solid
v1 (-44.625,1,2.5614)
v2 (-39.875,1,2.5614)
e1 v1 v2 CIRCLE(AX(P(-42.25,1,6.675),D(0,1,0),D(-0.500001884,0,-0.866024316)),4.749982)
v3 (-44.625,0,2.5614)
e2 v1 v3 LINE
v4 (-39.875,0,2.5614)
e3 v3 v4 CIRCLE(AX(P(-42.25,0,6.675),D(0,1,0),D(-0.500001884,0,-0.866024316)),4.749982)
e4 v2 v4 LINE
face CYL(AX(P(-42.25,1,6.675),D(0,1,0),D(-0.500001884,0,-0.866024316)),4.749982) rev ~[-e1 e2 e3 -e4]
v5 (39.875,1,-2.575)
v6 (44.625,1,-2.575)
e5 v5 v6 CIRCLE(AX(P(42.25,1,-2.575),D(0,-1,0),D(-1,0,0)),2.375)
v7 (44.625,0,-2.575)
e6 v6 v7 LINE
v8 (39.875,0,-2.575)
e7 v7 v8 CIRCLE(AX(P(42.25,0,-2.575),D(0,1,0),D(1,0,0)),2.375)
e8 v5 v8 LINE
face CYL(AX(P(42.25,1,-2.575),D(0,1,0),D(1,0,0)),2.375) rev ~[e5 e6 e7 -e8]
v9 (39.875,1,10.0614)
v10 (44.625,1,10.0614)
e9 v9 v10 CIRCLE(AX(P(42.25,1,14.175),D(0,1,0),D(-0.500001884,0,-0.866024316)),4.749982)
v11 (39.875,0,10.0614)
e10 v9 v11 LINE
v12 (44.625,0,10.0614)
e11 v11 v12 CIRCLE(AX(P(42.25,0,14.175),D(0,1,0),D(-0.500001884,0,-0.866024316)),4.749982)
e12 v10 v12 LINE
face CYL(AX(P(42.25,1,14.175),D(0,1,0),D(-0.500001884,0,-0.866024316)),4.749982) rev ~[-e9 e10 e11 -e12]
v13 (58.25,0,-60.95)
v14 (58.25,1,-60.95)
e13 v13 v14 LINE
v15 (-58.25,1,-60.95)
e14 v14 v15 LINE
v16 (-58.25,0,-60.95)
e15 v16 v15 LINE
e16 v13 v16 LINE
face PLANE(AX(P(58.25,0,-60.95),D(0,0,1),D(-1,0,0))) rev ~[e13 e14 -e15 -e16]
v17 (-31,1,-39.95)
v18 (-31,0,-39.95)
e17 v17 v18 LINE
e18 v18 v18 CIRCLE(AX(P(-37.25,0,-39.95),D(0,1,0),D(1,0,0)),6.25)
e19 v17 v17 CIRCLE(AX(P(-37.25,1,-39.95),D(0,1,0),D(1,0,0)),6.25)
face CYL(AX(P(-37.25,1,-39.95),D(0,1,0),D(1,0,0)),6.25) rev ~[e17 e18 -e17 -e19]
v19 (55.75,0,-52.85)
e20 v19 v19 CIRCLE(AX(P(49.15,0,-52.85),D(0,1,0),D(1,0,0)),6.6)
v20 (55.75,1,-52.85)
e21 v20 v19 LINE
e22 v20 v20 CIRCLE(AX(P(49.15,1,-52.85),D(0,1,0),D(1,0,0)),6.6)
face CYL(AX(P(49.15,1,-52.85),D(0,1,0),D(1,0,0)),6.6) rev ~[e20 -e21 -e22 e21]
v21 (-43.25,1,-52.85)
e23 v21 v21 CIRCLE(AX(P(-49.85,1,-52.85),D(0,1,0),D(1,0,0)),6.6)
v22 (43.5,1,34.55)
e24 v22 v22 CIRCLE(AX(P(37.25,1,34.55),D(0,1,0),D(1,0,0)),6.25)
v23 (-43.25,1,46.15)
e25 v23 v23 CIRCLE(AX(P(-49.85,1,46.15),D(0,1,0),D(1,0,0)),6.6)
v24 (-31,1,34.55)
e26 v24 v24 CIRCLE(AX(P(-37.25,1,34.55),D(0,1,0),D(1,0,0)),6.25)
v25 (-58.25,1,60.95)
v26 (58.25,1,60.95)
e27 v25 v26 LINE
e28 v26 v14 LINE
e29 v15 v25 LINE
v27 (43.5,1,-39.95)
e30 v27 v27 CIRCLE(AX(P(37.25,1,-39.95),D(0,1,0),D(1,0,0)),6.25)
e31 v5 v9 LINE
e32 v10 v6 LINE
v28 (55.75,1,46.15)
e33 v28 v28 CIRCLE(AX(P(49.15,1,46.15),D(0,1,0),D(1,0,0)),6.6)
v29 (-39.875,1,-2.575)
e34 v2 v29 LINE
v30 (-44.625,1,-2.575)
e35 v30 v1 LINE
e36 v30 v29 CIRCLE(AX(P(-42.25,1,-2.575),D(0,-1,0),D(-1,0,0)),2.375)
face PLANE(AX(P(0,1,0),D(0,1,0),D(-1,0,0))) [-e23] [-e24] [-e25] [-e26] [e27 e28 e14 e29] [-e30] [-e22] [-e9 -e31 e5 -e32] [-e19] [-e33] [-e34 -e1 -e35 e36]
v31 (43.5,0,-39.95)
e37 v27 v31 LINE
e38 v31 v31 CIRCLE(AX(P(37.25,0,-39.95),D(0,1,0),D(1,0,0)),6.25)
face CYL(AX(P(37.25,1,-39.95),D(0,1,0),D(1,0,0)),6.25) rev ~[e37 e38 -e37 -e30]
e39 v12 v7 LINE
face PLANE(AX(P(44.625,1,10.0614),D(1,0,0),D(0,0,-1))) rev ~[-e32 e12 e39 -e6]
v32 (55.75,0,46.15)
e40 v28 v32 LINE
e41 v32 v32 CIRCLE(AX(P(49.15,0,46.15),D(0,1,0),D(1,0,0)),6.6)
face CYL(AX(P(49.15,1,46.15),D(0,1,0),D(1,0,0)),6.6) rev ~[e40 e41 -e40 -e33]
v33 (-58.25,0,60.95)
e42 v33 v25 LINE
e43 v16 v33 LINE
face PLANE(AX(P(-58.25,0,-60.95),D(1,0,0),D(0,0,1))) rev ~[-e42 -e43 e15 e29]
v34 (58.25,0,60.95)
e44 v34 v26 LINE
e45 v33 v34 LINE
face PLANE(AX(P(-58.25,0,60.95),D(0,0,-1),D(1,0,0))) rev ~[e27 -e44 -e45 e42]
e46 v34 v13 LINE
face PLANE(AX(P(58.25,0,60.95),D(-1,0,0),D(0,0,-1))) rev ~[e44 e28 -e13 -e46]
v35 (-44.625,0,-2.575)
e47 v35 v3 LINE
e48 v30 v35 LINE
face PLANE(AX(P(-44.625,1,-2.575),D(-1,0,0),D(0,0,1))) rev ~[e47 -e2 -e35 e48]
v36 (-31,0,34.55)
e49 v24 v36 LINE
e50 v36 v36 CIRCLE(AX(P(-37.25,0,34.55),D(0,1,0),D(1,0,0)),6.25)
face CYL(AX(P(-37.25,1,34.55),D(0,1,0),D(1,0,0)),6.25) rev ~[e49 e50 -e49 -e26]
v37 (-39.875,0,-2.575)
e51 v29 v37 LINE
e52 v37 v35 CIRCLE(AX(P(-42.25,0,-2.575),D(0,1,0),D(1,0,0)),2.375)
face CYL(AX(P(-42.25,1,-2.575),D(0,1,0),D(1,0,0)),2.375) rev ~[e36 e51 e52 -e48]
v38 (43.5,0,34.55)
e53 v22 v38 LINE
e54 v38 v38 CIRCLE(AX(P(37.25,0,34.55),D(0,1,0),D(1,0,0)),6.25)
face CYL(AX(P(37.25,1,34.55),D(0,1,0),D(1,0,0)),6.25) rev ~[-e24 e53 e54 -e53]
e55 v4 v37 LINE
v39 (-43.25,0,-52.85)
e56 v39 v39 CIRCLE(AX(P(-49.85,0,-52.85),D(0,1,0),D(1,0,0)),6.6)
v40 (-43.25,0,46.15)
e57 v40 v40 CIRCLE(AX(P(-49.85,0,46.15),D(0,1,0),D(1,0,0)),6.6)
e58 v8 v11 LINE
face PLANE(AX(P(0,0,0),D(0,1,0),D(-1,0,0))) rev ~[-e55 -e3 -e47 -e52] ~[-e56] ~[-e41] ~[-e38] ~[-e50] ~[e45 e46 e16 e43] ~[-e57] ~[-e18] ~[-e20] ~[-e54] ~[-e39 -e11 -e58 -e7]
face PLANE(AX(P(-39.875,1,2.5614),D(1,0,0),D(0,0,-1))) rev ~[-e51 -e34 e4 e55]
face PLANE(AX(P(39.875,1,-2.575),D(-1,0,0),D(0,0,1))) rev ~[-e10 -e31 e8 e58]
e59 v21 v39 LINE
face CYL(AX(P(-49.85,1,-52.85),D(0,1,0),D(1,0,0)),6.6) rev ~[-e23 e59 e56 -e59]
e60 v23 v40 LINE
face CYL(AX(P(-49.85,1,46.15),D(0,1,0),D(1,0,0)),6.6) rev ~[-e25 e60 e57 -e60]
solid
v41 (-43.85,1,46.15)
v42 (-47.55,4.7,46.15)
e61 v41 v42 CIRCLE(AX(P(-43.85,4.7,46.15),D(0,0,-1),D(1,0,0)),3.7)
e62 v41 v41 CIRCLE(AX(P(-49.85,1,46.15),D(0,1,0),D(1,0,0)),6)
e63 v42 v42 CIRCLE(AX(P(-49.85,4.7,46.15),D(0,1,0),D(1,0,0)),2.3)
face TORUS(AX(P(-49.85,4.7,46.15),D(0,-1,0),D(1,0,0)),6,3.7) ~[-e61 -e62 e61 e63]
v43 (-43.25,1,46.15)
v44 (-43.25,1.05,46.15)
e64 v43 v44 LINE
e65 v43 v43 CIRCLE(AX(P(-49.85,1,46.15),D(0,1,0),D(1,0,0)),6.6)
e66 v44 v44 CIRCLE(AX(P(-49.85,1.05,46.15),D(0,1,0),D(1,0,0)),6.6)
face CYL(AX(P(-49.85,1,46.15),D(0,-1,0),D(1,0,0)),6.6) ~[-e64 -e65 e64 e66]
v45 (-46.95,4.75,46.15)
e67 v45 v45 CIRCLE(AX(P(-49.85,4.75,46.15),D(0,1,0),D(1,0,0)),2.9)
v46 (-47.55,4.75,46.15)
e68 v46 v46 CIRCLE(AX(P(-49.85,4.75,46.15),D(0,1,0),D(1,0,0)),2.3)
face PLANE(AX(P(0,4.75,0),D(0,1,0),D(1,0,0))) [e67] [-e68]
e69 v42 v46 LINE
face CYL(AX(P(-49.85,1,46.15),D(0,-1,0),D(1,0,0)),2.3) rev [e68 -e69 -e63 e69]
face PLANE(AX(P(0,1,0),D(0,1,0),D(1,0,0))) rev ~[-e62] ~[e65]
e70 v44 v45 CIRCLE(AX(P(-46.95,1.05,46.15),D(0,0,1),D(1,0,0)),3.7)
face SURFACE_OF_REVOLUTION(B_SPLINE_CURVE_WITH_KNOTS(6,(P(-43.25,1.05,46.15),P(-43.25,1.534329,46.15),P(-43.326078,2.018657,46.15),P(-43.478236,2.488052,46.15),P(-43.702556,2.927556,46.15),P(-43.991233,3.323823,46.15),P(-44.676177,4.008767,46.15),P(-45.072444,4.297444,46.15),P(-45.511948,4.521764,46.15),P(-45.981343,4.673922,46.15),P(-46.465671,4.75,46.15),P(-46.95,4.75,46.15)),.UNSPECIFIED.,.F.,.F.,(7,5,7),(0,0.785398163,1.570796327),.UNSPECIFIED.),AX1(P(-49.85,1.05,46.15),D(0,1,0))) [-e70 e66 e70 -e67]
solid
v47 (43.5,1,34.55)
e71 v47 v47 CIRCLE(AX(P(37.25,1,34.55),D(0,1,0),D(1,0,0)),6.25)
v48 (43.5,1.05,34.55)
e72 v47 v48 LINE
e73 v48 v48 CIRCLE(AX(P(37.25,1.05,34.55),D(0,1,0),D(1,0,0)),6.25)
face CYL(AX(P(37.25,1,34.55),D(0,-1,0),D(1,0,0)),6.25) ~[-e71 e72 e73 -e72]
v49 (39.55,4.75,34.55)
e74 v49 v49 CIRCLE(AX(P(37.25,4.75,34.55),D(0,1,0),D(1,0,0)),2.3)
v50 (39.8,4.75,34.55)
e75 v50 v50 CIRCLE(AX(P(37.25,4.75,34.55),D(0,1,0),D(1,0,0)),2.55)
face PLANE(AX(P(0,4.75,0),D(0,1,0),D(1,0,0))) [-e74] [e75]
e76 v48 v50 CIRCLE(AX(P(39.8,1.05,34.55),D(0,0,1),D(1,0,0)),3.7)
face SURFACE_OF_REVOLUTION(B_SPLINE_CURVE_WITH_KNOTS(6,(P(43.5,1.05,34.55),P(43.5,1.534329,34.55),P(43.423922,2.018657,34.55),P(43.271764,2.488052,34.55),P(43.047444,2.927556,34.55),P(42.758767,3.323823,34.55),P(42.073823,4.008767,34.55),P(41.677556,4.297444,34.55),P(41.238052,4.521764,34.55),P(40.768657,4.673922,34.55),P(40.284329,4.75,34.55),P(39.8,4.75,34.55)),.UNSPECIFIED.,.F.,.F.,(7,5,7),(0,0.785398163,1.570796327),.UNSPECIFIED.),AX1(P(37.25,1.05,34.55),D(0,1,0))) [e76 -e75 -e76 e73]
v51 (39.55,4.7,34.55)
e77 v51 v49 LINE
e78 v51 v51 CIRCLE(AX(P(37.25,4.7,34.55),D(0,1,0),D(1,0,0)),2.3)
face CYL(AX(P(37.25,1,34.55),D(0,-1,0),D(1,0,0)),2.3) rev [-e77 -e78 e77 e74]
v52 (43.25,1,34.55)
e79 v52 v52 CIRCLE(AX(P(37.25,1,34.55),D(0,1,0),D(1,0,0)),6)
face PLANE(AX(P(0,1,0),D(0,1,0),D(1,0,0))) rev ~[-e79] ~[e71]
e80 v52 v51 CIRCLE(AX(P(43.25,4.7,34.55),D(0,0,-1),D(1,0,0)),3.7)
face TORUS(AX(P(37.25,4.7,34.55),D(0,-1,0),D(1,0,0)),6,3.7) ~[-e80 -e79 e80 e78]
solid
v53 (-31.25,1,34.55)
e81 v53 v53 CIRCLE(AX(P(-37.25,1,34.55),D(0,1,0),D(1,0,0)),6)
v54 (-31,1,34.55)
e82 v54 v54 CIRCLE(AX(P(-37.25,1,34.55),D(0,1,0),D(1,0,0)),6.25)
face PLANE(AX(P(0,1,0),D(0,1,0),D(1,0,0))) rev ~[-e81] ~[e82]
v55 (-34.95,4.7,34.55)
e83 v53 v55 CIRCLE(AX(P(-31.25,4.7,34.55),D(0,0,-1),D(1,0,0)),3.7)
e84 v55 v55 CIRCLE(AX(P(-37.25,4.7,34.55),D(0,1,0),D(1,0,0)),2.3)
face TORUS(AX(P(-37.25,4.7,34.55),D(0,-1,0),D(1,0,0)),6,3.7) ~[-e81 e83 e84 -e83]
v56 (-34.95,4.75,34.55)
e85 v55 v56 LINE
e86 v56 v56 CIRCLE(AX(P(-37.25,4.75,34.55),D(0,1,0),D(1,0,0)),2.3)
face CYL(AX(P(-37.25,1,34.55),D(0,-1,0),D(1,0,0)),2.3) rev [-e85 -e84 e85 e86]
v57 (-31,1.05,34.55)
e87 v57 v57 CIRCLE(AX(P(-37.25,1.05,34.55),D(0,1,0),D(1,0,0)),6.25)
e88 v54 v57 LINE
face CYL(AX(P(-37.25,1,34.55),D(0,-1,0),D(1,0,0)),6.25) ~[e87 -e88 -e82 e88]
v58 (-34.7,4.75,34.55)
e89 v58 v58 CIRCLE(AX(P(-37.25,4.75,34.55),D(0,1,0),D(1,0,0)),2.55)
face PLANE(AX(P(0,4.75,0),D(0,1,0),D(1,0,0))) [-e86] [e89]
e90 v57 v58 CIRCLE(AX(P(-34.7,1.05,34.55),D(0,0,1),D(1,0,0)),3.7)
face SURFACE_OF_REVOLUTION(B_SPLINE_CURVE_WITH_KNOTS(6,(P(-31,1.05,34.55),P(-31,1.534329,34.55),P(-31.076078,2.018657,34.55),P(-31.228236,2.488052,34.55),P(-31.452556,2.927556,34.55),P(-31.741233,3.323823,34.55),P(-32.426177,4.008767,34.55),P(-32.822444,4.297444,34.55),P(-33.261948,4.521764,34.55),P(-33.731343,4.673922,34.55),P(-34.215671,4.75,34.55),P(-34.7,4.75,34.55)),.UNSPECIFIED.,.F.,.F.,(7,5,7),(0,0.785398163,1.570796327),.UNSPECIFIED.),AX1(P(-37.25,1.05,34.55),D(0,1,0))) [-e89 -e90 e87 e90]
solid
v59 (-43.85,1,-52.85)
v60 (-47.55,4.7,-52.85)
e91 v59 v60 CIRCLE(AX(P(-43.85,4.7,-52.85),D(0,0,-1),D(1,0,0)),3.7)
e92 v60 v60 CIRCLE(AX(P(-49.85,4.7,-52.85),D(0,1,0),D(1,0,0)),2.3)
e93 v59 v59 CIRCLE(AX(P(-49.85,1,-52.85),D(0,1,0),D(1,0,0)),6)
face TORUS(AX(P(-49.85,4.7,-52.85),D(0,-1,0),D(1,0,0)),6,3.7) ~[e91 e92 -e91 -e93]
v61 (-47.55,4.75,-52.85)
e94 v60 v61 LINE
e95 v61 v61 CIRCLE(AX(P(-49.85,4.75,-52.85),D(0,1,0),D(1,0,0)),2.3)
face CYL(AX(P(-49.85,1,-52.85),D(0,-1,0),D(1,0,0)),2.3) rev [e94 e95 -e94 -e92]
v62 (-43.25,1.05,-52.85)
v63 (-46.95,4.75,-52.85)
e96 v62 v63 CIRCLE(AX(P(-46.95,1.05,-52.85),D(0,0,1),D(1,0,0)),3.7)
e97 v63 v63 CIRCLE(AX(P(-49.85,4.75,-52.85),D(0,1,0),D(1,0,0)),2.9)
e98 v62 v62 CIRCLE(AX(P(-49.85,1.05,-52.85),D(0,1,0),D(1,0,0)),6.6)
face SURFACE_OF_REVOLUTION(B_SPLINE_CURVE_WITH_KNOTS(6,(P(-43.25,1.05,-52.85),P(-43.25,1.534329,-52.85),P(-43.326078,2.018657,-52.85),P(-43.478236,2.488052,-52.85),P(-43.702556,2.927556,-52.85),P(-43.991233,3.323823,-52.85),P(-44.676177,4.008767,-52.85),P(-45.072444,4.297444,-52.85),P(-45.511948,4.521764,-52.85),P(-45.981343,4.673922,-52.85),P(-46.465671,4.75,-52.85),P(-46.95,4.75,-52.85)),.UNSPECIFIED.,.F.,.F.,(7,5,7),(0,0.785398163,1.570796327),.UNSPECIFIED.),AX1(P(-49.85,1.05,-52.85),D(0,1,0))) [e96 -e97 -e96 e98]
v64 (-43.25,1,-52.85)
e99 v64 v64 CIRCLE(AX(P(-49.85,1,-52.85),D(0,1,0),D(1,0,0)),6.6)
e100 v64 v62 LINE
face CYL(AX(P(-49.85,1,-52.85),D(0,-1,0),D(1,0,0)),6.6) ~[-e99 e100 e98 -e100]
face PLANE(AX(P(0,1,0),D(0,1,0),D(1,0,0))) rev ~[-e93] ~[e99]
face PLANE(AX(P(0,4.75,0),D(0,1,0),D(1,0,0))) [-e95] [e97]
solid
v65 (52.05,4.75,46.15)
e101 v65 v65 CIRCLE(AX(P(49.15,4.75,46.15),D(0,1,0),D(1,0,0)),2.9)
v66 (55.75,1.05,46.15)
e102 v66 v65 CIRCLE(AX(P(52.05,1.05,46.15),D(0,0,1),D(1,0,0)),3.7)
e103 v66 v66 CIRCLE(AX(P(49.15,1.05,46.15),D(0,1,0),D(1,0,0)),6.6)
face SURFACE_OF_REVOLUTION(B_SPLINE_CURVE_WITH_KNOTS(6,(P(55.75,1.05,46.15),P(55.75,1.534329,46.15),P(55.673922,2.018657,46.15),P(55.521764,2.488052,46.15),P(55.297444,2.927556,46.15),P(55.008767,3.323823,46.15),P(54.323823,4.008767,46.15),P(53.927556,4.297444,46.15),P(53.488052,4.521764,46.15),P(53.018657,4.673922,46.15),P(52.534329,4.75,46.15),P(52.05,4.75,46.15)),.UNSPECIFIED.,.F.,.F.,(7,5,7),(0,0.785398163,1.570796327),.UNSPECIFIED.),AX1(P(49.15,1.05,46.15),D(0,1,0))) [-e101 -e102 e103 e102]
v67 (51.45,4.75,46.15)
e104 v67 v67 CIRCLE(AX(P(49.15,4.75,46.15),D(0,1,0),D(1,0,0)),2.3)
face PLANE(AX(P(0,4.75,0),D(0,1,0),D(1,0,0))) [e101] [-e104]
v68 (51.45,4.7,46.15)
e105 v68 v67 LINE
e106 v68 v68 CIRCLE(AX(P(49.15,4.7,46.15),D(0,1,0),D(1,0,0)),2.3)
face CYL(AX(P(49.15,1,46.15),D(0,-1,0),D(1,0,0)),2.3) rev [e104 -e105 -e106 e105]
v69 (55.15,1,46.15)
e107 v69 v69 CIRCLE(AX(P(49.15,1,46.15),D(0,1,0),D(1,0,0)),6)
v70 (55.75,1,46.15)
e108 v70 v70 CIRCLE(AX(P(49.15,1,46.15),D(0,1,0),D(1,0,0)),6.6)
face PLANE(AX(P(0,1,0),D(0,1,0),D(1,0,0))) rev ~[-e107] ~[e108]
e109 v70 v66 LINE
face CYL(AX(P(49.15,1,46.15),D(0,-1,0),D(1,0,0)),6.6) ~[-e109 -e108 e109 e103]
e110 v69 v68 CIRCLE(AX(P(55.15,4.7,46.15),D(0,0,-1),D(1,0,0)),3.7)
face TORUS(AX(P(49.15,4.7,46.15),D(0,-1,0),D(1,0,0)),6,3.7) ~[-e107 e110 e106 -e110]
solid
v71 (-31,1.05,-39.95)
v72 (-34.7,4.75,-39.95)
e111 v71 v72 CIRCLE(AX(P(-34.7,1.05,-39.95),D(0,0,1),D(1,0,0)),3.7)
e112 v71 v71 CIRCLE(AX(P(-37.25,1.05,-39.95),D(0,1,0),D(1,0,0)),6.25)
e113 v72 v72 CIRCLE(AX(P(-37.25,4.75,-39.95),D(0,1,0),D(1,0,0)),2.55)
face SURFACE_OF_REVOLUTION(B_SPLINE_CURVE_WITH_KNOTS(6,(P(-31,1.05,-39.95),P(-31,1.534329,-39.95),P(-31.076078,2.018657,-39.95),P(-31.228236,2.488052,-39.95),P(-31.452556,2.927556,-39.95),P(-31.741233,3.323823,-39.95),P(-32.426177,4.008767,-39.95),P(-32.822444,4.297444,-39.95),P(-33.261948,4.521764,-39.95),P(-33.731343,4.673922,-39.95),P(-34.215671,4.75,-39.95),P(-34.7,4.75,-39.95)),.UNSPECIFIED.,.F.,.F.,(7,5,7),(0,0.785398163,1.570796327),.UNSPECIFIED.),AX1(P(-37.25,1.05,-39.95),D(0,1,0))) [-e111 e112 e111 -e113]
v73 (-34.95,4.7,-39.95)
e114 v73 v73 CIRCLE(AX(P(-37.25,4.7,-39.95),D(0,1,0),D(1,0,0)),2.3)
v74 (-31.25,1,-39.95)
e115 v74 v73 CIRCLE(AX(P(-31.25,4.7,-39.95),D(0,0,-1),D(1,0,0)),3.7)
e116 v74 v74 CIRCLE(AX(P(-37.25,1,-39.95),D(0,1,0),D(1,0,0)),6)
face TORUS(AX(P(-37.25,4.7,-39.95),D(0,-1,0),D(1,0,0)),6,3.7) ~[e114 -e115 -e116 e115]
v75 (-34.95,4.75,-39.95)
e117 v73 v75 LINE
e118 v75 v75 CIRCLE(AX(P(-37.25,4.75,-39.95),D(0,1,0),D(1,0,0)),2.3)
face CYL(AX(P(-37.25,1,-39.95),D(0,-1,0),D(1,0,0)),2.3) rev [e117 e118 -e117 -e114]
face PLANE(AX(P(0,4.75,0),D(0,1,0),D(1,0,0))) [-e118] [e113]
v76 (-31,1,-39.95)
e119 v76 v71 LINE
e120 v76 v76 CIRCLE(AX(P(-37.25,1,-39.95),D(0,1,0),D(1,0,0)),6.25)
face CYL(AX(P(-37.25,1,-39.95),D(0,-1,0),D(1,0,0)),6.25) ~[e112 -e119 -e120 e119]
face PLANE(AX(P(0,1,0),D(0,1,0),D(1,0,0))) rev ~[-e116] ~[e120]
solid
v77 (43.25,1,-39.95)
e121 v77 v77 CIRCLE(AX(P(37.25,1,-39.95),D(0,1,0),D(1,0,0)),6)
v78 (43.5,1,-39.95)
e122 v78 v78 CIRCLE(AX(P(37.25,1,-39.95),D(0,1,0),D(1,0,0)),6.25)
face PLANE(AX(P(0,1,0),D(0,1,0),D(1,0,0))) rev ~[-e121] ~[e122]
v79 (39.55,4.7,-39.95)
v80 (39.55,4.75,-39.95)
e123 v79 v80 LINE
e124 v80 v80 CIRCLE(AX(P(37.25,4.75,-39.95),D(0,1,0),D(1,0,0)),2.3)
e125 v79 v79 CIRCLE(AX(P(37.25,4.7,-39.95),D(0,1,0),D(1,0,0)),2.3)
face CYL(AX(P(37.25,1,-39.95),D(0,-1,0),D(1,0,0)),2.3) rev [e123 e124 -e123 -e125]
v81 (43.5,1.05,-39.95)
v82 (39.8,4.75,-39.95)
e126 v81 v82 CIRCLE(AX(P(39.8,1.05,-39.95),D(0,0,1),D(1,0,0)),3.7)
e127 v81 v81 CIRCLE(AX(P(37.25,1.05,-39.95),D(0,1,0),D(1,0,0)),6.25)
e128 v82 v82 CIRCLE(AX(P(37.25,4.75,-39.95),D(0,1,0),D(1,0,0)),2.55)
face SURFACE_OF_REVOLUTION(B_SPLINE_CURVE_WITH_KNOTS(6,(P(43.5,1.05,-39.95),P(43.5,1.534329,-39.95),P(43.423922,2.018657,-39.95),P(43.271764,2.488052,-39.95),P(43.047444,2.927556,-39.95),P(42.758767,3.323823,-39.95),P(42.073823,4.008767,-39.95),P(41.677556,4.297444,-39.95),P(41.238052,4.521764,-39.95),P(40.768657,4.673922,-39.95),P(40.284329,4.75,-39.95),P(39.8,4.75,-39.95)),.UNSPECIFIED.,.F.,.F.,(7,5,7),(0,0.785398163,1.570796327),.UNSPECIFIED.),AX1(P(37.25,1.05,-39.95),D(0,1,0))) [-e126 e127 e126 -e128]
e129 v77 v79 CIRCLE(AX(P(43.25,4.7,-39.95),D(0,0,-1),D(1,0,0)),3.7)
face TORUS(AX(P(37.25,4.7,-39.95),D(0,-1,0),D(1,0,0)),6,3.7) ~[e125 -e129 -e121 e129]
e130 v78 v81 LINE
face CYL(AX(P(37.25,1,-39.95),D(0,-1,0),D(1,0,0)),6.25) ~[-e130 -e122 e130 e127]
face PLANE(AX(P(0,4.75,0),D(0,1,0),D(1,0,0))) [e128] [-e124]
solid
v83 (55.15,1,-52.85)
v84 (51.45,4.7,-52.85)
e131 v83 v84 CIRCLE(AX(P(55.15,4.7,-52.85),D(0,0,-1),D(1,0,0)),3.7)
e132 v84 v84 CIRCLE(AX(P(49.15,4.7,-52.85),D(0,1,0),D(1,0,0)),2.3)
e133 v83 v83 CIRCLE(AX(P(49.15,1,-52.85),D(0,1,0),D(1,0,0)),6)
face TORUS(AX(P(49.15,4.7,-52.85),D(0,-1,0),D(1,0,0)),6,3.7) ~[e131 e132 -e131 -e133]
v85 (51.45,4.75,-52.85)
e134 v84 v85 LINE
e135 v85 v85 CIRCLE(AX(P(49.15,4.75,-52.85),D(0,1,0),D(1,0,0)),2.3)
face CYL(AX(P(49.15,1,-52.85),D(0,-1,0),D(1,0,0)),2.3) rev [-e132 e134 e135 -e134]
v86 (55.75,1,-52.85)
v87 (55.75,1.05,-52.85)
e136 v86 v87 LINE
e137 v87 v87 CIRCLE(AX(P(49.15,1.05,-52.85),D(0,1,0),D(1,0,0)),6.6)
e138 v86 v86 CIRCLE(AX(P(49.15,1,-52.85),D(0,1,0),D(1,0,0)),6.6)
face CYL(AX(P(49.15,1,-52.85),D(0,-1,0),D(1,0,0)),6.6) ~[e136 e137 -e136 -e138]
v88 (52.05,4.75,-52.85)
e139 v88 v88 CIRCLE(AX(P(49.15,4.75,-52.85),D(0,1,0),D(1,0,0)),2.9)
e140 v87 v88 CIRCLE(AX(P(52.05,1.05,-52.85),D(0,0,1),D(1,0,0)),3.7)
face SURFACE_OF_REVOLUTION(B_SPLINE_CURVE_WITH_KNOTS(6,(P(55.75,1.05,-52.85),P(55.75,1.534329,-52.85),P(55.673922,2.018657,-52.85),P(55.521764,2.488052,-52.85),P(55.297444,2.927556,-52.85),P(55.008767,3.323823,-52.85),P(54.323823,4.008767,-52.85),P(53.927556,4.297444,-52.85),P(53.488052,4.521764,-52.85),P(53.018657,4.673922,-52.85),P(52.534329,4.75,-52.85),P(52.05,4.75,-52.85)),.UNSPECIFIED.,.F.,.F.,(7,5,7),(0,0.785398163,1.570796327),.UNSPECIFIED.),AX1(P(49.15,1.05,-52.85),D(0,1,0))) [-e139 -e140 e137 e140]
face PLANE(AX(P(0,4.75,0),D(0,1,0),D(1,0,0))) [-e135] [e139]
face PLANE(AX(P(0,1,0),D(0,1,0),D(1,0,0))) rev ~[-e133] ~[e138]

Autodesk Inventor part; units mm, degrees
ref_plane "YZ Plane" through (0, 0, 0) normal (1, 0, 0) x (0, 1, 0)
ref_plane "XZ Plane" through (0, 0, 0) normal (0, 1, 0) x (-1, 0, 0)
ref_plane "XY Plane" through (0, 0, 0) normal (0, 0, 1) x (1, 0, 0)
sketch "Sketch1" plane through (0, 0, 0) normal (0, 1, 0) x (-1, 0, 0)
  line L0 (-58.25, -60.95) -> (58.25, -60.95)
  line L1 (58.25, -60.95) -> (58.25, 60.95)
  line L2 (58.25, 60.95) -> (-58.25, 60.95)
  line L3 (-58.25, 60.95) -> (-58.25, -60.95)
  line L4 (-58.25, -60.95) -> (58.25, 60.95) construction
  line L5 (58.25, -60.95) -> (-58.25, 60.95) construction
  point P0 (0, 0)
  dimension "d0" = 121.9
  dimension "d1" = 116.5
extrude "Extrusion1" add sketch "Sketch1" along normal blind 1
sketch "Sketch2" plane through (0, 1, 0) normal (0, 1, 0) x (1, 0, 0)
  circle A0 centre (-49.85, 52.85) radius 6.6
  line L0 (-58.25, -60.95) -> (58.25, -60.95) projected
  line L1 (-58.25, 60.95) -> (-58.25, -60.95) projected
  line L2 (58.25, 60.95) -> (-58.25, 60.95) projected
  circle A1 centre (49.15, 52.85) radius 6.6
  circle A2 centre (-49.85, -46.15) radius 6.6
  circle A3 centre (49.15, -46.15) radius 6.6
  point P0 (0, 0)
  dimension "d5" = 13.2
  dimension "d8" = 8.4
  dimension "d127" = 8.1
  dimension "d130" = 99
  dimension "d133" = 99
extrude "Extrusion2" cut sketch "Sketch2" against normal through all
sketch "Sketch3" plane through (0, 1, 0) normal (0, 1, 0) x (1, 0, 0)
  circle A0 centre (-37.25, 39.95) radius 6.25
  circle A1 centre (-49.85, 46.15) radius 6.6 projected
  line L0 (-58.25, 60.95) -> (-58.25, -60.95) projected
  line L1 (58.25, 60.95) -> (-58.25, 60.95) projected
  circle A2 centre (37.25, 39.95) radius 6.25
  circle A3 centre (-37.25, -34.55) radius 6.25
  circle A4 centre (37.25, -34.55) radius 6.25
  point P0 (0, 0)
  dimension "d103" = 21
  dimension "d104" = 21
  dimension "d107" = 74.5
  dimension "d110" = 74.5
extrude "Extrusion3" cut sketch "Sketch3" against normal blind 1 contours A0 | A2 | A3 | A4
sketch "Sketch4" plane through (0, 1, 0) normal (0, 1, 0) x (1, 0, 0)
  line L0 (-58.25, 60.95) -> (-58.25, -60.95) projected
  line L1 (-58.25, -60.95) -> (58.25, -60.95) projected
  line L2 (58.25, 60.95) -> (-58.25, 60.95) projected
  line L3 (-42.25, -9.05) -> (-39.875, -9.05)
  line L4 (-39.875, -2.5614) -> (-39.875, 2.575)
  line L5 (-39.875, 4.95) -> (-42.25, 4.95)
  line L6 (-44.625, -9.05) -> (-39.875, 4.95) construction
  line L7 (42.25, -16.55) -> (44.625, -16.55)
  line L8 (44.625, -10.0614) -> (44.625, 2.575)
  line L9 (44.625, 4.95) -> (42.25, 4.95)
  line L10 (58.25, -60.95) -> (58.25, 60.95) projected
  arc A0 (-39.875, 2.575) -> (-44.625, 2.575) centre (-42.25, 2.575) ccw
  arc A1 (44.625, 2.575) -> (39.875, 2.575) centre (42.25, 2.575) ccw
  arc A2 (39.875, -10.0614) -> (44.625, -10.0614) centre (42.25, -14.175) ccw
  line L11 (-44.625, 2.575) -> (-44.625, -2.5614)
  line L12 (-44.625, -6.675) -> (-44.625, -9.05)
  line L13 (-44.625, 4.95) -> (-41.4381, -4.4431) construction
  line L14 (-40.2475, -7.952) -> (-39.875, -9.05) construction
  arc A3 (-44.625, -2.5614) -> (-39.875, -2.5614) centre (-42.25, -6.675) ccw
  line L15 (39.875, 2.575) -> (39.875, -10.0614)
  point P0 (0, 0)
  point P1 (-42.25, -2.05)
  point P2 (-42.25, 4.95)
  dimension "d116" = 4.75
  dimension "d117" = 16
  dimension "d118" = 56
  dimension "d119" = 14
  dimension "d121" = 13.625
  dimension "d122" = 21.5
  dimension "d124" = 9.5
sketch "Sketch6" plane through (0, 1, 0) normal (0, 1, 0) x (1, 0, 0)
  circle A0 centre (-37.25, 39.95) radius 6.25
  line L0 (58.25, 60.95) -> (-58.25, 60.95)
  line L1 (-58.25, 60.95) -> (-58.25, -60.95)
  circle A1 centre (37.25, 39.95) radius 6.25
  circle A2 centre (-37.25, -34.55) radius 6.25
  circle A3 centre (37.25, -34.55) radius 6.25
  circle A4 centre (-37.25, 39.95) radius 2.3
  circle A5 centre (37.25, 39.95) radius 2.3
  circle A6 centre (-37.25, -34.55) radius 2.3
  circle A7 centre (37.25, -34.55) radius 2.3
  circle A8 centre (-37.25, 39.95) radius 6.25 projected
  point P0 (0, 0)
  dimension "d55" = 74.5
  dimension "d58" = 74.5
  dimension "d70" = 4.6
  dimension "d73" = 74.5
  dimension "d76" = 74.5
extrude "Extrusion7" add sketch "Sketch6" along normal blind 3.75
fillet "Fillet1" radius 3.7 8 edges at (-43.5, 4.75, 34.55) (31, 4.75, 34.55) (31, 4.75, -39.95) (-43.5, 4.75, -39.95) (34.95, 1, -39.95) (-39.55, 1, -39.95) (34.95, 1, 34.55) (-39.55, 1, 34.55)
sketch "Sketch8" plane through (0, 1, 0) normal (0, 1, 0) x (1, 0, 0)
  circle A0 centre (-49.85, 52.85) radius 6.6
  circle A1 centre (-49.85, 52.85) radius 2.3
  line L0 (58.25, 60.95) -> (-58.25, 60.95) projected
  line L1 (-58.25, 60.95) -> (-58.25, -60.95) projected
  circle A2 centre (49.15, 52.85) radius 2.3
  circle A3 centre (-49.85, -46.15) radius 2.3
  circle A4 centre (49.15, -46.15) radius 2.3
  circle A5 centre (-49.85, 52.85) radius 6.6
  circle A6 centre (-49.85, 52.85) radius 6.6 projected
  circle A7 centre (49.15, 52.85) radius 6.6
  circle A8 centre (-49.85, -46.15) radius 6.6
  circle A9 centre (49.15, -46.15) radius 6.6
  point P0 (0, 0)
  point P1 (-49.85, 46.15)
  dimension "d83" = 4.6
  dimension "d88" = 99
  dimension "d91" = 99
  dimension "d136" = 13.2
  dimension "d139" = 99
  dimension "d142" = 99
extrude "Extrusion9" add sketch "Sketch8" along normal blind 3.75
fillet "Fillet3" radius 3.7 8 edges at (-56.45, 4.75, -52.85) (-52.15, 1, -52.85) (-52.15, 1, 46.15) (46.85, 1, 46.15) (46.85, 1, -52.85) (-56.45, 4.75, 46.15) (42.55, 4.75, 46.15) (42.55, 4.75, -52.85)
extrude "Extrusion10" cut sketch "Sketch4" against normal through all contours A3 L11 A0 L4 | A2 L15 A1 L8
equation "\"d55\" = d73"
equation "\"d58\" = d76"
equation "\"d73\" = d107"
equation "\"d76\" = d110"
equation "\"d88\" = d130"
equation "\"d91\" = d133"
equation "\"d136\" = d5"
equation "\"d139\" = d88"
equation "\"d142\" = d91"
equation "\"d121\" = d120"
equation "\"d120\" = 13.625"
properties part number "NUC_mount"
